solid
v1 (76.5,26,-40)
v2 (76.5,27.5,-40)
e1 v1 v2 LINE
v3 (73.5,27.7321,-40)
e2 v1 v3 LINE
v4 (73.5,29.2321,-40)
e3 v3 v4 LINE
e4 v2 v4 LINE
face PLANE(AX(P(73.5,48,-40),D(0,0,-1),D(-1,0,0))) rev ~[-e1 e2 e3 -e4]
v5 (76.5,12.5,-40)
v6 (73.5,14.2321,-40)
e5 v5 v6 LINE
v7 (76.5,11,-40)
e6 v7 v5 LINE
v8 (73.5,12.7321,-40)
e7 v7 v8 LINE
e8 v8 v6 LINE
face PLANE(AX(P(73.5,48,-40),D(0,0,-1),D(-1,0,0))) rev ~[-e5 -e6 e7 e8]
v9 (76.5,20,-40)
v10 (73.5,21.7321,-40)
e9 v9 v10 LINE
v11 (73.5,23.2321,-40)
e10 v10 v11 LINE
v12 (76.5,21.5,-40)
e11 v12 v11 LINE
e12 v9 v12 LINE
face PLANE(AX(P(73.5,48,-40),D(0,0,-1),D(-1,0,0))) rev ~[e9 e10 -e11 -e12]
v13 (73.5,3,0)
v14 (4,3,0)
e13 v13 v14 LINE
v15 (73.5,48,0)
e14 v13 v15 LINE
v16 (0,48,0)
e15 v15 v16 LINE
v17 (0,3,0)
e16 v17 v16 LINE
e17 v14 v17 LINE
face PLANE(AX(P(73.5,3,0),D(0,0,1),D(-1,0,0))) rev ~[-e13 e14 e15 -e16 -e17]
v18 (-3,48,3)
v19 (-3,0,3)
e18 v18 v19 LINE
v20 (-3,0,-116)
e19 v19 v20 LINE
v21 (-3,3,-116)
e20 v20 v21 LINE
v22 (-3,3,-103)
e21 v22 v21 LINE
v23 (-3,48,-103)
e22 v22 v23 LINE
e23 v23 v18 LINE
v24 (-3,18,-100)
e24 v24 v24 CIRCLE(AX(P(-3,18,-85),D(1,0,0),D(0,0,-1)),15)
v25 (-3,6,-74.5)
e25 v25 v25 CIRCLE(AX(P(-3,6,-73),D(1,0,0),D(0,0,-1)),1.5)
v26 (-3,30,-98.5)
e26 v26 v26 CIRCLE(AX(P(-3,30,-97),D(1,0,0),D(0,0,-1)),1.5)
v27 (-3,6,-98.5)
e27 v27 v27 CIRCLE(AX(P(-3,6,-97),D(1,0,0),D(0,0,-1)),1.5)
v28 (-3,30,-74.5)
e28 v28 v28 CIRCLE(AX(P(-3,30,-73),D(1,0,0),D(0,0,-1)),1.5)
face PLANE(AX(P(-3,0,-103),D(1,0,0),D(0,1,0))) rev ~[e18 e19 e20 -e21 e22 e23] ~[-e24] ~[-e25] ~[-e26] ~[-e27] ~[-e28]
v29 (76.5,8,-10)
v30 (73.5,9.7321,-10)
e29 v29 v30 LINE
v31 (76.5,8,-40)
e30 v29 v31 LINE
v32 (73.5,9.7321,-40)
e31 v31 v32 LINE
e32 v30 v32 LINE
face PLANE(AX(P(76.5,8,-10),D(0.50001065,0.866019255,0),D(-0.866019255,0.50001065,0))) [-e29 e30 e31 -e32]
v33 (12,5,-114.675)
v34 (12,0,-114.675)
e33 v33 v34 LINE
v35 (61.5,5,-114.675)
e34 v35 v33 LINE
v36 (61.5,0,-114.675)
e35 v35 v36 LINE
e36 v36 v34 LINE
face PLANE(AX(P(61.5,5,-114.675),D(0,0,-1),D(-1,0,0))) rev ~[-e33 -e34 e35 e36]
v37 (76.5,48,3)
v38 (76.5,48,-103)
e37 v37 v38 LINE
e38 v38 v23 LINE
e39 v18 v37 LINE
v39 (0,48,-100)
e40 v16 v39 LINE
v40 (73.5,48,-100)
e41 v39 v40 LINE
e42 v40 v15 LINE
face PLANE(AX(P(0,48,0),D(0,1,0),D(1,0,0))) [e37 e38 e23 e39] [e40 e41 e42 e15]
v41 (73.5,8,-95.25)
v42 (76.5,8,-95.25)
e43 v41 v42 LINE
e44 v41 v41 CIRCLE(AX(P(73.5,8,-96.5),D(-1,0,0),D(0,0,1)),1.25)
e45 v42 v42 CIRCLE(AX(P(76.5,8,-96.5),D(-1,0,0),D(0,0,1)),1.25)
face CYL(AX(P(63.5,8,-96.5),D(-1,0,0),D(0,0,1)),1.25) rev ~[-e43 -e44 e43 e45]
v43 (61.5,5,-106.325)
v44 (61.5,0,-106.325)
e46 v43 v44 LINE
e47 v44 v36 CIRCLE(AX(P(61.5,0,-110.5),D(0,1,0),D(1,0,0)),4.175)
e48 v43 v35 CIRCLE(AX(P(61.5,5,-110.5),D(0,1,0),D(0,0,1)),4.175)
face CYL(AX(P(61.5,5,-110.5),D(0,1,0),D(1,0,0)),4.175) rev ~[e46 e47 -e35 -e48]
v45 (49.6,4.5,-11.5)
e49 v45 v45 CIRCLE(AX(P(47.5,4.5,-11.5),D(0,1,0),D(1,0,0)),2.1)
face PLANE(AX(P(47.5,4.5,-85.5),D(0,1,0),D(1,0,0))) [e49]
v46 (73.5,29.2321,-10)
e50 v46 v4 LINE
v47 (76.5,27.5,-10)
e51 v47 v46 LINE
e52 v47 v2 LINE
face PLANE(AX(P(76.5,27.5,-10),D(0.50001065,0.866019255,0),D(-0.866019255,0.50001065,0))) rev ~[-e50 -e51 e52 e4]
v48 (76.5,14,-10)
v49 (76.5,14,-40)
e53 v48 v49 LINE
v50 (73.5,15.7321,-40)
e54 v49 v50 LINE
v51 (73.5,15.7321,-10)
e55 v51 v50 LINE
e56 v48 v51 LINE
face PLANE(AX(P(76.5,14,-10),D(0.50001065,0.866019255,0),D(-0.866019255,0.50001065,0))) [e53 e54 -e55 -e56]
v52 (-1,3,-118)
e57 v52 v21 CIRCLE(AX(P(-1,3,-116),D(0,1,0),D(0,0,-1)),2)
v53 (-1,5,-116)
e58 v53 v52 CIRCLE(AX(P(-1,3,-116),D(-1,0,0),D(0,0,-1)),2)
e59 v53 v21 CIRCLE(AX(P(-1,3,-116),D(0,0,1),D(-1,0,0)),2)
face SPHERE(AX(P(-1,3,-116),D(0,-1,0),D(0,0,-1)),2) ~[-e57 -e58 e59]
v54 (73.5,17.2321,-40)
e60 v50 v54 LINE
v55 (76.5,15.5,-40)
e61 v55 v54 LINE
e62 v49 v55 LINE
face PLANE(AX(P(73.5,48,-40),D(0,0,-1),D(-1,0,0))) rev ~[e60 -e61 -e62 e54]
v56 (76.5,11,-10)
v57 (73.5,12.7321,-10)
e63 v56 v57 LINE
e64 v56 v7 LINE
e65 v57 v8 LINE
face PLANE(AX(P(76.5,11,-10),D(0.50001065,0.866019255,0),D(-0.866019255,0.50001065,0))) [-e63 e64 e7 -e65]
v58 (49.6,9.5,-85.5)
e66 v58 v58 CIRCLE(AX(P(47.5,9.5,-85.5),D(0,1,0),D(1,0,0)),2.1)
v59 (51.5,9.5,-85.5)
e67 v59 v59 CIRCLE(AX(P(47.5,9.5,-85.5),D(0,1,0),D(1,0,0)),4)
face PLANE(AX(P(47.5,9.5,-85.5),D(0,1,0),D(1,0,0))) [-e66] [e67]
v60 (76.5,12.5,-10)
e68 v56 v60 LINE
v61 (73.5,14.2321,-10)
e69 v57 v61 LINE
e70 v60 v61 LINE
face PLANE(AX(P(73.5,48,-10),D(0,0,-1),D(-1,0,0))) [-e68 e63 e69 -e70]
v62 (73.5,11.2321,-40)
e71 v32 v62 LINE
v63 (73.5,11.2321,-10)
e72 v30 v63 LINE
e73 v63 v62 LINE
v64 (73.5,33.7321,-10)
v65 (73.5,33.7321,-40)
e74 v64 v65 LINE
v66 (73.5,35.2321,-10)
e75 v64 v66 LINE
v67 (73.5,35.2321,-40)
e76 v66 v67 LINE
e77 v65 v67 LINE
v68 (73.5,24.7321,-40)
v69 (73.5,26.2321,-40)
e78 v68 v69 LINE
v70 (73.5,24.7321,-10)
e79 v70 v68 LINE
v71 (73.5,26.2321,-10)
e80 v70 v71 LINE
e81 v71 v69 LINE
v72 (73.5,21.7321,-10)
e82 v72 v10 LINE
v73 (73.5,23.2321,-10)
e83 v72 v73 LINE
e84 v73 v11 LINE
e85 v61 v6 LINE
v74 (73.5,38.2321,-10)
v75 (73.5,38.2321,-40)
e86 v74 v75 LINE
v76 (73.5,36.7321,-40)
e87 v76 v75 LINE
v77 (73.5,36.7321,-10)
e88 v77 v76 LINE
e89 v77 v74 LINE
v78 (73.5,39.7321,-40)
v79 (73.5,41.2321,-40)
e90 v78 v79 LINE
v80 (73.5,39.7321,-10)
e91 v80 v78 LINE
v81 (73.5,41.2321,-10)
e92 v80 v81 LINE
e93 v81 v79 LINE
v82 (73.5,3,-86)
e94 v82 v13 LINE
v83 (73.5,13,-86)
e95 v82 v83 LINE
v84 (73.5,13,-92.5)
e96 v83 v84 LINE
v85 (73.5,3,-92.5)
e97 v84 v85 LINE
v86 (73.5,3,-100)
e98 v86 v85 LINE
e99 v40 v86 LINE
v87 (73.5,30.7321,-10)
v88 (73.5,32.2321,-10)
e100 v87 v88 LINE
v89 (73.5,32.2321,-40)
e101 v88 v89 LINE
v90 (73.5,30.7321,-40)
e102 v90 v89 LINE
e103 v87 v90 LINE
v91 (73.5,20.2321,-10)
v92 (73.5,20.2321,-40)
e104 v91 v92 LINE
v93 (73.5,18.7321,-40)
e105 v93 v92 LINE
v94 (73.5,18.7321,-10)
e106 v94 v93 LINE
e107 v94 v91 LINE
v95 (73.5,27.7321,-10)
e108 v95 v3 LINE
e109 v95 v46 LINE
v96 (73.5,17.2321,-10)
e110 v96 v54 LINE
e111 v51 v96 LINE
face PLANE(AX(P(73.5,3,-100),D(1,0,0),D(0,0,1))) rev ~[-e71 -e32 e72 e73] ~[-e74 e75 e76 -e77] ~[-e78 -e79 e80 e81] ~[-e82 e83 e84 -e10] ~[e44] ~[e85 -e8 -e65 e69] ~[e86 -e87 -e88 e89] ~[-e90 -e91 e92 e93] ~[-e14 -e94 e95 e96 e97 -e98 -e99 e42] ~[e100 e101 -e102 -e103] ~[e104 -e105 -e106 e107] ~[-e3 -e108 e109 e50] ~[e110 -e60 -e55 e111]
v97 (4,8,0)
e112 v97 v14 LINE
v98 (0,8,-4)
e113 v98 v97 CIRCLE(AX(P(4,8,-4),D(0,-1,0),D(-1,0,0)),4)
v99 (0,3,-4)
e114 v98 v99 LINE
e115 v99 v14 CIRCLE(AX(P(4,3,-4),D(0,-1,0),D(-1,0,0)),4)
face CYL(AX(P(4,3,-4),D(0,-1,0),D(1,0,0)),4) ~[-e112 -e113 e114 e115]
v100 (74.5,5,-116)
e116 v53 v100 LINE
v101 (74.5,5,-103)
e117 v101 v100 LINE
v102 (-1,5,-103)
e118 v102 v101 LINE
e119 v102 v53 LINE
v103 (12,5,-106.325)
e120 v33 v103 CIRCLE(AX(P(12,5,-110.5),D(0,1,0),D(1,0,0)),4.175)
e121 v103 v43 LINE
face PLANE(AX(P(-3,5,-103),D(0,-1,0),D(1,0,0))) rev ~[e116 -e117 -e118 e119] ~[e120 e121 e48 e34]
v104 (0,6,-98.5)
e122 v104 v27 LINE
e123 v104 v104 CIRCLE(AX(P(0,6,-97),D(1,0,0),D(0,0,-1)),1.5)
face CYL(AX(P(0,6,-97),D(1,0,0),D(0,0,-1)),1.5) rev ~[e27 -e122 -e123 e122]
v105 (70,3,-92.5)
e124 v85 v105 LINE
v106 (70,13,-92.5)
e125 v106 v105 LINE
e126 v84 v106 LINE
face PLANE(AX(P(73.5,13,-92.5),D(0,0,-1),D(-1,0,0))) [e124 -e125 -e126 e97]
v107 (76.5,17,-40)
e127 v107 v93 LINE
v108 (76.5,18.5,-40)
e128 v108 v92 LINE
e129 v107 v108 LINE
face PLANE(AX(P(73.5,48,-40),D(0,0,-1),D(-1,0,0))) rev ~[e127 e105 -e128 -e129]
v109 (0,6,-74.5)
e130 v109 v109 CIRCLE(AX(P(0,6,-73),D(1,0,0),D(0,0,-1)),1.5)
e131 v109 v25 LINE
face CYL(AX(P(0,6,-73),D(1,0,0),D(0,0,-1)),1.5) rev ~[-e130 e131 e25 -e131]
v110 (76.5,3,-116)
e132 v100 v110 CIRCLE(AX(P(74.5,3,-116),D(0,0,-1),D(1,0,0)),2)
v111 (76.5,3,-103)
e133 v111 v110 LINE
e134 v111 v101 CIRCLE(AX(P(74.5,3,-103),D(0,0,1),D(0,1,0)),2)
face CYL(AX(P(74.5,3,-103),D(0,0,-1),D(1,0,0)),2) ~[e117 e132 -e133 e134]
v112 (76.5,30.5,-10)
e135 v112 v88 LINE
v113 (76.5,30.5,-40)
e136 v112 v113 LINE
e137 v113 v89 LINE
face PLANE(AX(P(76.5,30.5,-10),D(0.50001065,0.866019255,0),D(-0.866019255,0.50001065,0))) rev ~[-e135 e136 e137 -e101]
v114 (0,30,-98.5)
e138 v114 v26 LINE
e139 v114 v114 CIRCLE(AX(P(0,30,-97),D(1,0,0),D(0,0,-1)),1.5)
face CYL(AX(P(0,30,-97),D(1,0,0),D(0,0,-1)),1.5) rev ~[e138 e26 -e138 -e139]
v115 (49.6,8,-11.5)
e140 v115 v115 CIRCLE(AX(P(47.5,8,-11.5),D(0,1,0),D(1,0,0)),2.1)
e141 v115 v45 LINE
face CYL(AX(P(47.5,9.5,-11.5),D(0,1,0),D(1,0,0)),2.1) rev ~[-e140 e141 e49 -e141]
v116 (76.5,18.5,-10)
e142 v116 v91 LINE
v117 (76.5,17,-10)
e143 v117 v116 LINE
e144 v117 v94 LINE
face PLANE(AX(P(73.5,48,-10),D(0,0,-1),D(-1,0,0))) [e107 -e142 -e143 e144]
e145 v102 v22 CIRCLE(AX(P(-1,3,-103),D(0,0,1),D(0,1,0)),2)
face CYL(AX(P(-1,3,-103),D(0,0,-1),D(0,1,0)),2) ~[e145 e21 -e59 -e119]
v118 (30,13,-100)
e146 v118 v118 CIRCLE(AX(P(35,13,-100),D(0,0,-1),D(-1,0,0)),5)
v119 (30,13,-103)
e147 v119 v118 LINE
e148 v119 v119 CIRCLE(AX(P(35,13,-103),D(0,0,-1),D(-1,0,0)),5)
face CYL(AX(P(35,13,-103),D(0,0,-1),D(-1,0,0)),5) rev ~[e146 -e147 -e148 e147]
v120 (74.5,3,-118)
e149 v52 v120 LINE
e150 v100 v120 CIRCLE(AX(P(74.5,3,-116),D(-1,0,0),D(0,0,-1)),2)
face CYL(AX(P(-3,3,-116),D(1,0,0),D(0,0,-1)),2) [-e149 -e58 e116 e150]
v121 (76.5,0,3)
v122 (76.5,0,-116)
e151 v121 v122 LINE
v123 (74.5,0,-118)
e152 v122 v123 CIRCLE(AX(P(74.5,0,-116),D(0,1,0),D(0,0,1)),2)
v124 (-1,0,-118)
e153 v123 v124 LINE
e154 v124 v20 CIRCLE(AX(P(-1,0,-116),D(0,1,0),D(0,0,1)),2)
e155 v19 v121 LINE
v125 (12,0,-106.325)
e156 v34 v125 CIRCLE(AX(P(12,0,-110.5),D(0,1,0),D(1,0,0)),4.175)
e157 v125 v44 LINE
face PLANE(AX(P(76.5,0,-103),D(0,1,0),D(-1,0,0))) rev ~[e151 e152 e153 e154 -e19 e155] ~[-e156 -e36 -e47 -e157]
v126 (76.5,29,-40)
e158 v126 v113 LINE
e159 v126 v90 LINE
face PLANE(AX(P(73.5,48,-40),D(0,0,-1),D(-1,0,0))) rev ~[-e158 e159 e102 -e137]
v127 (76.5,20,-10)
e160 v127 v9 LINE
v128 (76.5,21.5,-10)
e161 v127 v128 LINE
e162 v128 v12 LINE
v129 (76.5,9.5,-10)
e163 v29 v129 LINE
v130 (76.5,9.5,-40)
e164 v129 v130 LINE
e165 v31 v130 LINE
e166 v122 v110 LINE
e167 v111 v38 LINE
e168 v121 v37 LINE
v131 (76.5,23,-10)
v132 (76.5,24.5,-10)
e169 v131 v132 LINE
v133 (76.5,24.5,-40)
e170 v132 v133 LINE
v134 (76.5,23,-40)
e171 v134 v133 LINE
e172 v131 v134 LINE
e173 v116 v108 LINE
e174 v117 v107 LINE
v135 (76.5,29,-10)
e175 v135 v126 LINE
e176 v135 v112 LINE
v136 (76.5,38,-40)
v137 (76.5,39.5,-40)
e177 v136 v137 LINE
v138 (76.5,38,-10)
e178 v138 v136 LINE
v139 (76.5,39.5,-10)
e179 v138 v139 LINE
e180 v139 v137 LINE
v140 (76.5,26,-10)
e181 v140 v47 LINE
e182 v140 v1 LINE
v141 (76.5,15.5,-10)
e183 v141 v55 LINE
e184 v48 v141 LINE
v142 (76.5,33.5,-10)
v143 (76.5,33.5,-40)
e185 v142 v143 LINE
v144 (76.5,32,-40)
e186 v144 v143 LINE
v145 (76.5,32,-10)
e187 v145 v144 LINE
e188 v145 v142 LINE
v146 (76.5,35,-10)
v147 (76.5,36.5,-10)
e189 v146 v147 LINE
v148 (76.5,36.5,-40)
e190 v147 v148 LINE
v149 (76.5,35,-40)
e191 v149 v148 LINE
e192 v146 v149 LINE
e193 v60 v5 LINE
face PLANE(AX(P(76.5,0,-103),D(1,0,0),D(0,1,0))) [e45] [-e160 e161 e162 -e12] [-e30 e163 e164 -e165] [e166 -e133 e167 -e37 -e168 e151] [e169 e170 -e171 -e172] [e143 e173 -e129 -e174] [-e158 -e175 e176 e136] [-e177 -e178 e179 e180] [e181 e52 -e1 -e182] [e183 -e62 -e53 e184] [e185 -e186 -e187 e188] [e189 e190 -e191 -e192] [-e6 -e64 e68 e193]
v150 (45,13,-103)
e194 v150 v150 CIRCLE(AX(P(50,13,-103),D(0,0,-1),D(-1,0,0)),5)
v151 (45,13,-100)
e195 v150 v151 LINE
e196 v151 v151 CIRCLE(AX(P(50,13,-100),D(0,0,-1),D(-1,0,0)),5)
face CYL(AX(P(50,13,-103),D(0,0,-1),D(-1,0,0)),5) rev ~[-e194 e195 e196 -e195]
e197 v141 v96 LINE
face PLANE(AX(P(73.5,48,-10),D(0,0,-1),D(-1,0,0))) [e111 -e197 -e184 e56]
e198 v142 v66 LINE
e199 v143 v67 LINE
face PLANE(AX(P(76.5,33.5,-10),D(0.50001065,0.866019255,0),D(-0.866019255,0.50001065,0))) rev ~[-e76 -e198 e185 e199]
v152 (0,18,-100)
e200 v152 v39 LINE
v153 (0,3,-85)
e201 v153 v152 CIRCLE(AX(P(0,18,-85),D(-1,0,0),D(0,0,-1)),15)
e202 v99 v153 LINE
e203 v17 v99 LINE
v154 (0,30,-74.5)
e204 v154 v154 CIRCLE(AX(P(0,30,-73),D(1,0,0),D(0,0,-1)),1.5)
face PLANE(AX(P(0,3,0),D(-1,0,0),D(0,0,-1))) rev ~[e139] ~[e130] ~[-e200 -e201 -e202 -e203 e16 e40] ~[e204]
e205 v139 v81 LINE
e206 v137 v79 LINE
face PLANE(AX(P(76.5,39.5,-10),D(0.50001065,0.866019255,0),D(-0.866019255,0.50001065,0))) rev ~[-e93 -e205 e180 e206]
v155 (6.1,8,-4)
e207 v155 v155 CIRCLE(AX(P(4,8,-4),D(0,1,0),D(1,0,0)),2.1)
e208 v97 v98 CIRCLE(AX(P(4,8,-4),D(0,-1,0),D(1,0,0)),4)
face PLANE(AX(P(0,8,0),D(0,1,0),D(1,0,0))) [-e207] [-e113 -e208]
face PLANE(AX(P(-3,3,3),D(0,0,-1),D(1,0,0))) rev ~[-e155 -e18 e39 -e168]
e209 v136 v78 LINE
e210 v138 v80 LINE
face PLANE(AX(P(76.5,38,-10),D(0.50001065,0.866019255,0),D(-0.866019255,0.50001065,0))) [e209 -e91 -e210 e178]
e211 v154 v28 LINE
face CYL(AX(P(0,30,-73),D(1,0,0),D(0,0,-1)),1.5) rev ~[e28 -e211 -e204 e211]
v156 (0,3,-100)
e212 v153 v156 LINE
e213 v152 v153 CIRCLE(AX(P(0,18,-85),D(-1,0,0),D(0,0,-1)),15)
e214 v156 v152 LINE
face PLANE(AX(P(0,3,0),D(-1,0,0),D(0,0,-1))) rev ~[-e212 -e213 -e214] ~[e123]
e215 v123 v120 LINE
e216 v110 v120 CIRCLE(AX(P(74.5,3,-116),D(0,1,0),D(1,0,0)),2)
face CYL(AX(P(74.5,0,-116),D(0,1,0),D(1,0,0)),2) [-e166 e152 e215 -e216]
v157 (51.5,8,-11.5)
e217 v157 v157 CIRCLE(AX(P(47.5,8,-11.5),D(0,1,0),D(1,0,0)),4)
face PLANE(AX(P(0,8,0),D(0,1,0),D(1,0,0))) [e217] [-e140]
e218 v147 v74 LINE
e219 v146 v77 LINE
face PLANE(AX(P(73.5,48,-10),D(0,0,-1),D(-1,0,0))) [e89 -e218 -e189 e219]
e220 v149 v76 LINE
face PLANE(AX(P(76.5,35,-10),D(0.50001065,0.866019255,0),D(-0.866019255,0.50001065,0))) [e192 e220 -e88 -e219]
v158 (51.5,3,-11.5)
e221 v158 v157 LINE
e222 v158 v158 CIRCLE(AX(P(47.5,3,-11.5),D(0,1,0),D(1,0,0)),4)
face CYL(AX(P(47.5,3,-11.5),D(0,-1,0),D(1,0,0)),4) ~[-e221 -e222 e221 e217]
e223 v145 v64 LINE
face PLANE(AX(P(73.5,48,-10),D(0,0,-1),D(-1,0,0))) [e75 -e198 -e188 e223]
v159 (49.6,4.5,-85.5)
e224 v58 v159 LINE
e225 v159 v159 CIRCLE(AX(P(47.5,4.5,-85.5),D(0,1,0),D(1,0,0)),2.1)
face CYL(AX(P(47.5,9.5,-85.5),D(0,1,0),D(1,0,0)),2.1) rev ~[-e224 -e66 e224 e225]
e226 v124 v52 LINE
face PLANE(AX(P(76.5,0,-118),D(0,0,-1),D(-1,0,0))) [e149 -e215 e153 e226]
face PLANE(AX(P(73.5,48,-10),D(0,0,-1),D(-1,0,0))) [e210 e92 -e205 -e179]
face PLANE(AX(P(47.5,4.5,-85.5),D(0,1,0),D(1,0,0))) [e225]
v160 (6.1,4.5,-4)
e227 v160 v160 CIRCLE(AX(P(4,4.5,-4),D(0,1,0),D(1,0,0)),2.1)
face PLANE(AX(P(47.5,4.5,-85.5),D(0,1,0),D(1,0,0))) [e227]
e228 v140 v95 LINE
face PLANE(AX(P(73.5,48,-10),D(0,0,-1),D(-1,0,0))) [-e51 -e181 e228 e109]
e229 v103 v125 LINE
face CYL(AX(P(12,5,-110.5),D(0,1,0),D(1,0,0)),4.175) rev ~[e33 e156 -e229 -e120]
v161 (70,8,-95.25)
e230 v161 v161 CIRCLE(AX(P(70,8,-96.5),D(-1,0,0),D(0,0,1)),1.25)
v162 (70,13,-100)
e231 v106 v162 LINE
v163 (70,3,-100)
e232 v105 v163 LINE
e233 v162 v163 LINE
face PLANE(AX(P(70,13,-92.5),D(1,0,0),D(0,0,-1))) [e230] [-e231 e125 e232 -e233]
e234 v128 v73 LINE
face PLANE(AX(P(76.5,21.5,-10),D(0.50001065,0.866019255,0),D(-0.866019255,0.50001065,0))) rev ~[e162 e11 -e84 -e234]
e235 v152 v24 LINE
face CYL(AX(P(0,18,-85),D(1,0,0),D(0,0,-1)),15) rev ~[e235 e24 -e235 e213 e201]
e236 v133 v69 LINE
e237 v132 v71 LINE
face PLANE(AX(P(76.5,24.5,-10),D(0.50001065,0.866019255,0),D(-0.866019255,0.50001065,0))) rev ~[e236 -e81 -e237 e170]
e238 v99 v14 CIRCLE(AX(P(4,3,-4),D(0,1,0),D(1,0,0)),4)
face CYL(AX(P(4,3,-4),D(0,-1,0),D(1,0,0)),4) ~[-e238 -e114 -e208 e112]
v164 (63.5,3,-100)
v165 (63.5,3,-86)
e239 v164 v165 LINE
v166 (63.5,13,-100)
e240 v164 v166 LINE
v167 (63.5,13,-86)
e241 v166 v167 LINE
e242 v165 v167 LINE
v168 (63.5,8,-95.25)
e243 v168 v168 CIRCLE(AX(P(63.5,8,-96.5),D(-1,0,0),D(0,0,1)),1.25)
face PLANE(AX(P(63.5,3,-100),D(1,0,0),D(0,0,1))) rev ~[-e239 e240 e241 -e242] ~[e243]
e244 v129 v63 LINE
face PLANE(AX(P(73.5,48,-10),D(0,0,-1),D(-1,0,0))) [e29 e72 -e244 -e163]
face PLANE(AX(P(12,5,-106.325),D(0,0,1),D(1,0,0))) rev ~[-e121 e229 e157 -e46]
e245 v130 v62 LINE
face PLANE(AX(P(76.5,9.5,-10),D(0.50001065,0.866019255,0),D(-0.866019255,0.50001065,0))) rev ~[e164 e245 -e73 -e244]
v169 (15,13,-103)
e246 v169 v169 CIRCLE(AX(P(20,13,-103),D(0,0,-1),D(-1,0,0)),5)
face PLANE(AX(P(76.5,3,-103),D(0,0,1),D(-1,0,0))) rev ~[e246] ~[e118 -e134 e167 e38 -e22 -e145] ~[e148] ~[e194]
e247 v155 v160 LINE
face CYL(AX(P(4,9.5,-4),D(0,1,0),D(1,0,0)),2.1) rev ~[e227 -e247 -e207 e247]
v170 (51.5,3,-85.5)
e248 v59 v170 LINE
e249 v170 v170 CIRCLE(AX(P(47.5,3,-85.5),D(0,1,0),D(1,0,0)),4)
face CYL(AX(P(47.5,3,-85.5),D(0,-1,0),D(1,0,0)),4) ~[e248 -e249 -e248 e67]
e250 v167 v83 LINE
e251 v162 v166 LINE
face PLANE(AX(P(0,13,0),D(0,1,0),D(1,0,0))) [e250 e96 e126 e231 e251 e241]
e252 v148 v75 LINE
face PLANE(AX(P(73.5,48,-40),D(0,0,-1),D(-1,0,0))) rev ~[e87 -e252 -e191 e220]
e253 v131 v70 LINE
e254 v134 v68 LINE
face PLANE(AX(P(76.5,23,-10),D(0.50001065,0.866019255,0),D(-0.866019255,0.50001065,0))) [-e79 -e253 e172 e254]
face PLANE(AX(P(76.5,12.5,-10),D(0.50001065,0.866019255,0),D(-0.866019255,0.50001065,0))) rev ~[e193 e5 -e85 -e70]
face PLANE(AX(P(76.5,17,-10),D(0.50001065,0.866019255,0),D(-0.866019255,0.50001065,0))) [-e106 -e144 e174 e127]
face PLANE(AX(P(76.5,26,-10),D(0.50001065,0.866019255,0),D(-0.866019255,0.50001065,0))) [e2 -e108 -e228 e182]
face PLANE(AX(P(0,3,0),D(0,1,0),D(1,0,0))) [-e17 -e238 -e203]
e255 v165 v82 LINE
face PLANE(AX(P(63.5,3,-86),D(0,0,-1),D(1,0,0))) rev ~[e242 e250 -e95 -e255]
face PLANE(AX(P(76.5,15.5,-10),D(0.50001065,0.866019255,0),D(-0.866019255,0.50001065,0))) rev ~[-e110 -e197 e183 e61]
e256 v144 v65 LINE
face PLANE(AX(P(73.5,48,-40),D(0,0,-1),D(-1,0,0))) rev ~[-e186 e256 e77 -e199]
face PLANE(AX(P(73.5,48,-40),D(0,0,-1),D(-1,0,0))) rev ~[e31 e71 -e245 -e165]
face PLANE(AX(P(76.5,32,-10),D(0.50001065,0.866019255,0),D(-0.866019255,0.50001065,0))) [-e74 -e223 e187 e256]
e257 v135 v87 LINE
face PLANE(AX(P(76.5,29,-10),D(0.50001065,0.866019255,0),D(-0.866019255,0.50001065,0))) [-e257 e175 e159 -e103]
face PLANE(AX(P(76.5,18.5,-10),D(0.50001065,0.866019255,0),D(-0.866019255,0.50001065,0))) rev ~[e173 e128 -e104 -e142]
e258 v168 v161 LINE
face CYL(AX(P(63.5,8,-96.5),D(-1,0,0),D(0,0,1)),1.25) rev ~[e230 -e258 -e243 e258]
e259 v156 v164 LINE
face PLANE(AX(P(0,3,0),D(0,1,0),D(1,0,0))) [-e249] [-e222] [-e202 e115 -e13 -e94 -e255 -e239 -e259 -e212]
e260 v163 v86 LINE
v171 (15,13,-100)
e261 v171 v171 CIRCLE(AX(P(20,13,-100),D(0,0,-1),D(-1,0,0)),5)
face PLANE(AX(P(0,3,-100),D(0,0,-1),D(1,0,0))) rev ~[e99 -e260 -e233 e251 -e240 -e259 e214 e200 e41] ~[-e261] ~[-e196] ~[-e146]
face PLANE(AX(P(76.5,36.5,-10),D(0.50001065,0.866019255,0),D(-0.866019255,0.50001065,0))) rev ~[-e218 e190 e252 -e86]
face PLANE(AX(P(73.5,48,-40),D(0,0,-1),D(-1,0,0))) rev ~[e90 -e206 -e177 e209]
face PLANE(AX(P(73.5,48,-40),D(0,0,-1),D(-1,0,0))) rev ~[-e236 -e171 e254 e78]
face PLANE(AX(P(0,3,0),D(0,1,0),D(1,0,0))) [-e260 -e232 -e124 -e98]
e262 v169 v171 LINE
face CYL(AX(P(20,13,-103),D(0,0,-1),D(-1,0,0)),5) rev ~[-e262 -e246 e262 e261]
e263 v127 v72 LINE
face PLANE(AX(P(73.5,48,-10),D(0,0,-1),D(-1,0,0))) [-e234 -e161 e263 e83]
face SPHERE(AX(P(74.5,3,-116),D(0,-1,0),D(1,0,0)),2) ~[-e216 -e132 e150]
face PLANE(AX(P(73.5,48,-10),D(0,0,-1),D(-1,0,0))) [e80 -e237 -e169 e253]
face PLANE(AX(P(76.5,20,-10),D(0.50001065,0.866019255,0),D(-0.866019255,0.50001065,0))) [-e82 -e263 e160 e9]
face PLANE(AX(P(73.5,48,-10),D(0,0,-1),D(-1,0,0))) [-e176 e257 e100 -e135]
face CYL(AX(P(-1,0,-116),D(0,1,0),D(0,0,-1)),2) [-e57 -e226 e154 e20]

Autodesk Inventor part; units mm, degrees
ref_plane "YZ Plane" through (0, 0, 0) normal (1, 0, 0) x (0, 1, 0)
ref_plane "XZ Plane" through (0, 0, 0) normal (0, 1, 0) x (-1, 0, 0)
ref_plane "XY Plane" through (0, 0, 0) normal (0, 0, 1) x (1, 0, 0)
sketch "Sketch1" plane through (0, 0, 0) normal (0, 1, 0) x (-1, 0, 0)
  line L0 (0, 0) -> (-51.5, 0)
  line L1 (-51.5, 0) -> (-51.5, -100)
  line L2 (-51.5, -100) -> (0, -100)
  line L3 (0, -100) -> (0, 0)
  circle A0 centre (-4, -4) radius 1.625
  circle A1 centre (-47.5, -11.5) radius 1.625
  dimension "d0" = 51.5
  dimension "d1" = 100
  dimension "d2" = 3.25
  dimension "d3" = 3.25
  dimension "d4" = 4
  dimension "d5" = 4
  dimension "d6" = 4
  dimension "d7" = 11.5
extrude "Extrusion1" add sketch "Sketch1" against normal blind 1
sketch "Sketch2" plane through (0, 0, 0) normal (0, 1, 0) x (1, 0, 0)
  line L0 (21.5, 4) -> (73.5, 4)
  line L1 (73.5, 4) -> (73.5, 93)
  line L2 (73.5, 93) -> (21.5, 93)
  line L3 (21.5, 93) -> (21.5, 4)
  circle A0 centre (47.5, 11.5) radius 1.625
  circle A1 centre (29.75, 12.25) radius 1.125
  line L4 (51.5, 0) -> (51.5, 100) projected
  line L5 (51.5, 100) -> (0, 100) projected
  line L6 (0, 100) -> (0, 0) projected
  line L7 (0, 0) -> (51.5, 0) projected
  circle A2 centre (4, 4) radius 1.625 projected
  circle A3 centre (47.5, 11.5) radius 1.625 projected
  point P0 (47.5, 4)
  dimension "d10" = 3.25
  dimension "d11" = 52
  dimension "d12" = 89
  dimension "d13" = 2.25
  dimension "d14" = 8.25
  dimension "d15" = 8.25
  dimension "d16" = 0
  dimension "d17" = 7.5
  dimension "d18" = 0
  dimension "d19" = 0
extrude "Extrusion2" add sketch "Sketch2" against normal blind 1 contours L3 L2 L4 L0 | L4 L2 L1 L0
sketch "Sketch3" plane through (0, 0, 0) normal (0, 1, 0) x (1, 0, 0)
  line L0 (51.5, 4) -> (73.5, 4) projected
  line L1 (73.5, 4) -> (73.5, 93) projected
  line L2 (73.5, 93) -> (51.5, 93) projected
  line L3 (51.5, 100) -> (0, 100) projected
  line L4 (0, 100) -> (0, 0) projected
  line L5 (0, 0) -> (51.5, 0) projected
  line L6 (51.5, 0) -> (51.5, 4) projected
  circle A0 centre (4, 4) radius 1.625 projected
  circle A1 centre (47.5, 11.5) radius 1.625 projected
  line L7 (-3, -3) -> (76.5, -3)
  line L8 (76.5, -3) -> (76.5, 103)
  line L9 (76.5, 103) -> (-3, 103)
  line L10 (-3, 103) -> (-3, -3)
  line L11 (51.5, 93) -> (51.5, 100) projected
  dimension "d22" = 3
  dimension "d23" = 3
  dimension "d24" = 3
  dimension "d48" = 3
extrude "Extrusion3" add sketch "Sketch3" along normal blind 3 contours L6 L5 L4 L3 L11 L2 L1 L0 | A0 | A1 | L10 L9 L8 L7
sketch "Sketch4" plane through (0, 3, 0) normal (0, 1, 0) x (1, 0, 0)
  line L0 (76.5, -3) -> (76.5, 103) projected
  line L1 (76.5, 103) -> (-3, 103) projected
  line L2 (-3, 103) -> (-3, -3) projected
  line L3 (-3, -3) -> (76.5, -3) projected
  line L4 (-3, 103) -> (76.5, 103)
  line L5 (76.5, 103) -> (76.5, -3)
  line L6 (76.5, -3) -> (-3, -3)
  line L7 (-3, -3) -> (-3, 103)
  line L8 (0, 100) -> (73.5, 100)
  line L9 (73.5, 100) -> (73.5, 0)
  line L10 (73.5, 0) -> (0, 0)
  line L11 (0, 0) -> (0, 100)
  point P0 (0, 0)
  dimension "d28" = 3
  dimension "d29" = 3
  dimension "d30" = 3
  dimension "d31" = 3
extrude "Extrusion4" add sketch "Sketch4" along normal blind 45
sketch "Sketch5" plane through (0, 3, 0) normal (0, 1, 0) x (1, 0, 0)
  circle A0 centre (47.5, 11.5) radius 4
  line L0 (73.5, 0) -> (0, 0) projected
  line L1 (0, 0) -> (0, 100) projected
  circle A1 centre (47.5, 85.5) radius 4
  line L2 (0, 100) -> (73.5, 100) projected
  circle A2 centre (4, 4) radius 1.625 projected
  circle A3 centre (4, 4) radius 4
  dimension "d34" = 8
  dimension "d36" = 11.5
  dimension "d37" = 47.5
  dimension "d39" = 8
  dimension "d42" = 74
  dimension "d45" = 8
extrude "Extrusion5" add sketch "Sketch5" along normal blind 5 contours A0 | A3 | A1 | A2
sketch "Sketch6" plane through (47.5, 8, -85.5) normal (0, 1, 0) x (1, 0, 0)
  circle A0 centre (0, 0) radius 4 projected
  circle A1 centre (0, 0) radius 3
  point P0 (-47.5, -85.5)
extrude "Extrusion6" add sketch "Sketch6" along normal blind 1.5 contours A0 | A1
sketch "Sketch7" plane through (0, 3, 0) normal (1, 0, 0) x (0, 0, -1)
  line L0 (100, 0) -> (4, 0) projected
  line L1 (100, 0) -> (100, 45) projected
  line L2 (0, 45) -> (100, 45) projected
  line L3 (0, 0) -> (0, 45) projected
  line L4 (100, 0) -> (70, 0)
  line L5 (70, 0) -> (70, 30)
  line L6 (70, 30) -> (100, 30)
  line L7 (100, 30) -> (100, 0)
  circle A0 centre (85, 15) radius 15
  circle A1 centre (73, 27) radius 1.5
  circle A2 centre (97, 27) radius 1.5
  circle A3 centre (73, 3) radius 1.5
  circle A4 centre (97, 3) radius 1.5
  line L8 (4, 0) -> (0, 0) projected
  line L9 (4, 0) -> (4, 5) projected
  point P0 (0, -3)
  point P1 (70, 15)
  point P2 (85, 30)
  point P3 (70, 15)
  point P4 (70, 0)
  point P5 (85, 0)
  point P6 (75.081, 3.7477)
  point P7 (74.196, 4.5945)
  dimension "d49" = 30
  dimension "d50" = 30
  dimension "d51" = 0
  dimension "d52" = 0
  dimension "d53" = 30
  dimension "d54" = 24
  dimension "d55" = 3
  dimension "d56" = 12
  dimension "d57" = 3
  dimension "d58" = 24
  dimension "d59" = 24
  dimension "d60" = 24
  dimension "d61" = 3
  dimension "d62" = 3
  dimension "d65" = 0
  dimension "d90" = 12
  dimension "d91" = 0
extrude "Extrusion7" cut sketch "Sketch7" against normal blind 30 contours A0 | A1 | A2 | A3 | A4
sketch "Sketch8" plane through (0, 48, 0) normal (0, 1, 0) x (1, 0, 0)
  line L0 (0, 100) -> (73.5, 100) projected
  line L1 (73.5, 100) -> (73.5, 0) projected
  line L2 (73.5, 0) -> (0, 0) projected
  line L3 (0, 0) -> (0, 100) projected
  line L4 (-3, 103) -> (-3, -3) projected
  line L5 (-3, -3) -> (76.5, -3) projected
  line L6 (76.5, -3) -> (76.5, 103) projected
  line L7 (76.5, 103) -> (-3, 103) projected
  line L8 (76.5, -3) -> (76.5, 103) projected
  line L9 (-3, -3) -> (76.5, -3)
  line L10 (76.5, -3) -> (76.5, 103)
  line L11 (76.5, 103) -> (-3, 103)
  line L12 (-3, 103) -> (-3, -3)
  line L13 (73.5, 0) -> (73.5, 100) projected
  line L14 (0, 0) -> (73.5, 0)
  line L15 (73.5, 0) -> (73.5, 100)
  line L16 (73.5, 100) -> (0, 100)
  line L17 (0, 100) -> (0, 0)
  point P0 (0, 0)
extrude "Extrusion8" [suppressed]
sketch "Sketch9" plane through (0, 51, 0) normal (0, 1, 0) x (1, 0, 0)
  line L0 (-3, -3) -> (76.5, -3) projected
  line L1 (76.5, -3) -> (76.5, 103) projected
  line L2 (76.5, 103) -> (-3, 103) projected
  line L3 (-3, 103) -> (-3, -3) projected
  line L4 (0, 100) -> (10, 100)
  line L5 (10, 100) -> (10, 90)
  line L6 (10, 90) -> (0, 90)
  line L7 (0, 90) -> (0, 100)
  line L8 (73.5, 100) -> (63.5, 100)
  line L9 (63.5, 100) -> (63.5, 90)
  line L10 (63.5, 90) -> (73.5, 90)
  line L11 (73.5, 90) -> (73.5, 100)
  line L12 (0, 0) -> (10, 0)
  line L13 (10, 0) -> (10, 10)
  line L14 (10, 10) -> (0, 10)
  line L15 (0, 10) -> (0, 0)
  line L16 (73.5, 0) -> (63.5, 0)
  line L17 (63.5, 0) -> (63.5, 10)
  line L18 (63.5, 10) -> (73.5, 10)
  line L19 (73.5, 10) -> (73.5, 0)
  point P0 (0, 0)
  dimension "d68" = 10
  dimension "d69" = 10
  dimension "d70" = 10
  dimension "d71" = 10
  dimension "d72" = 10
  dimension "d73" = 10
  dimension "d74" = 10
  dimension "d75" = 10
extrude "Extrusion10" [suppressed]
sketch "Sketch11" plane through (0, 3, 0) normal (0, 1, 0) x (1, 0, 0)
  circle A0 centre (47.5, 85.5) radius 4 projected
  circle A1 centre (47.5, 11.5) radius 4 projected
  arc A2 (4, 0) -> (0, 4) centre (4, 4) ccw projected
  line L0 (0, 100) -> (0, 85) projected
  line L1 (0, 85) -> (0, 4) projected
  line L2 (0, 0) -> (4, 0) projected
  line L3 (73.5, 0) -> (73.5, 100) projected
  line L4 (73.5, 100) -> (0, 100) projected
  line L5 (73.5, 100) -> (63.5, 100)
  line L6 (63.5, 100) -> (63.5, 86)
  line L7 (63.5, 86) -> (73.5, 86)
  line L8 (73.5, 86) -> (73.5, 100)
  line L9 (53.5, 100) -> (63.5, 100)
  line L10 (63.5, 100) -> (63.5, 86)
  line L11 (63.5, 86) -> (73.5, 86)
  line L12 (73.5, 86) -> (73.5, 80)
  line L13 (4, 0) -> (73.5, 0) projected
  arc A3 (0, 4) -> (4, 0) centre (4, 4) ccw projected
  line L14 (0, 4) -> (0, 0) projected
  point P0 (0, 0)
  dimension "d95" = 10
  dimension "d100" = 14
extrude "Extrusion11" add sketch "Sketch11" along normal blind 10 contours L7 L6 L4 L3
sketch "Sketch12" plane through (63.5, 3, -100) normal (-1, 0, 0) x (0, 0, 1)
  line L0 (14, 0) -> (0, 0) projected
  line L1 (14, 0) -> (14, 10) projected
  line L2 (0, 10) -> (14, 10) projected
  line L3 (0, 0) -> (0, 10) projected
  circle A0 centre (3.5, 5) radius 1.25
  line L4 (0, 10) -> (14, 10) projected
  point P0 (100, -3)
  point P1 (7, 10)
  point P2 (7, 10)
  dimension "d101" = 2.5
  dimension "d104" = 5
  dimension "d112" = 3.5
extrude "Extrusion12" cut sketch "Sketch12" against normal through all contours A0
sketch "Sketch13" plane through (0, 13, 0) normal (0, 1, 0) x (1, 0, 0)
  line L0 (73.5, 100) -> (73.5, 86) projected
  line L1 (63.5, 100) -> (73.5, 100) projected
  line L2 (63.5, 100) -> (63.5, 86) projected
  line L3 (63.5, 86) -> (73.5, 86) projected
  line L4 (70, 100) -> (73.5, 100)
  line L5 (73.5, 100) -> (73.5, 92.5)
  line L6 (73.5, 92.5) -> (70, 92.5)
  line L7 (70, 92.5) -> (70, 100)
  point P0 (0, 0)
  dimension "d108" = 3.5
  dimension "d113" = 7.5
extrude "Extrusion13" cut sketch "Sketch13" against normal blind 10 contours L0 L6 L7 L1
sketch "Sketch14" plane through (76.5, 0, -103) normal (0, 0, -1) x (-1, 0, 0)
  line L0 (13, 3) -> (13, 13) projected
  line L1 (13, 13) -> (6.5, 13) projected
  line L2 (3, 3) -> (3, 48) projected
  line L3 (76.5, 18) -> (76.5, 48) projected
  line L4 (76.5, 3) -> (76.5, 18) projected
  line L5 (13, 3) -> (76.5, 3) projected
  circle A0 centre (26.5, 13) radius 5
  circle A1 centre (41.5, 13) radius 5
  circle A2 centre (56.5, 13) radius 5
  line L6 (76.5, 48) -> (3, 48) projected
  line L7 (6.5, 13) -> (6.5, 3) projected
  line L8 (6.5, 3) -> (3, 3) projected
  point P0 (76.5, 0)
  dimension "d114" = 10
  dimension "d124" = 15
  dimension "d129" = 10
  dimension "d131" = 20
extrude "Extrusion14" cut sketch "Sketch14" against normal blind 10 contours A0 | A1 | A2
sketch "Sketch15" plane through (47.5, 9.5, -85.5) normal (0, 1, 0) x (1, 0, 0)
  circle A0 centre (0, 0) radius 4 projected
  circle A1 centre (-43.5, -81.5) radius 1.625 projected
  circle A2 centre (0, -74) radius 4 projected
  circle A3 centre (0, 0) radius 2.1
  circle A4 centre (-43.5, -81.5) radius 2.1
  circle A5 centre (0, -74) radius 1.625 projected
  circle A6 centre (0, -74) radius 2.1
  point P0 (-47.5, -85.5)
  dimension "d134" = 4.2
  dimension "d135" = 4.2
  dimension "d136" = 4.2
extrude "Extrusion15" cut sketch "Sketch15" against normal blind 5 contours A1 | A3 | A4 | A5 | A6
sketch "Sketch16" plane through (76.5, 0, -103) normal (0, 0, -1) x (-1, 0, 0)
  line L0 (0, 0) -> (79.5, 0) projected
  line L1 (79.5, 0) -> (79.5, 48) projected
  line L2 (0, 0) -> (0, 48) projected
  line L3 (0, 0) -> (79.5, 0)
  line L4 (79.5, 0) -> (79.5, 5)
  line L5 (79.5, 5) -> (0, 5)
  line L6 (0, 5) -> (0, 0)
  line L7 (0, 48) -> (79.5, 48) projected
  point P0 (76.5, 0)
  point P1 (0, 5)
  dimension "d139" = 5
extrude "Extrusion16" add sketch "Sketch16" along normal blind 15 contours L2 L5 L1 L0
sketch "Sketch17" plane through (-3, 5, -103) normal (0, 1, 0) x (1, 0, 0)
  line L0 (79.5, 0) -> (0, 0) projected
  line L1 (79.5, 0) -> (79.5, 15) projected
  line L2 (0, 15) -> (79.5, 15) projected
  line L3 (0, 0) -> (0, 15) projected
  circle A0 centre (15, 7.5) radius 4.175
  circle A1 centre (64.5, 7.5) radius 4.175
  line L4 (15, 3.325) -> (64.5, 3.325)
  line L5 (64.5, 3.325) -> (64.5, 11.675)
  line L6 (64.5, 11.675) -> (15, 11.675)
  line L7 (15, 11.675) -> (15, 3.325)
  point P0 (3, -103)
  point P1 (15, 7.5)
  point P2 (64.5, 3.325)
  point P3 (15, 11.675)
  dimension "d142" = 8.35
  dimension "d143" = 8.35
  dimension "d144" = 15
  dimension "d145" = 15
  dimension "d146" = 0
extrude "Extrusion17" cut sketch "Sketch17" against normal blind 15 contours A0 L7 | A0 L6 A1 L4 | L7 A0 | L5 A1 | A1 L5
fillet "Fillet1" radius 2 5 edges at (76.5, 2.5, -118) (-3, 2.5, -118) (76.5, 5, -110.5) (36.75, 5, -118) (-3, 5, -110.5)
sketch "Sketch18" plane through (0, 0, 0) normal (0, -1, 0) x (1, 0, 0)
  line L0 (-42.8807, 22.4095) -> (141.815, 22.4095)
  line L1 (141.815, 22.4095) -> (141.815, -149.6316)
  line L2 (141.815, -149.6316) -> (-42.8807, -149.6316)
  line L3 (-42.8807, -149.6316) -> (-42.8807, 22.4095)
  point P0 (0, 0)
extrude "Extrusion18" cut sketch "Sketch18" along normal blind 10
ref_plane "Work Plane2" through (73.5, 48, -10) normal (0, 0, -1) x (-1, 0, 0)
sketch "Sketch19" plane through (73.5, 48, -10) normal (0, 0, -1) x (-1, 0, 0)
  line L0 (73.5, -45) -> (69.5, -45) projected
  line L1 (73.5, -45) -> (73.5, 0) projected
  line L2 (0, 0) -> (73.5, 0) projected
  line L3 (0, -45) -> (0, 0) projected
  line L4 (69.5, -45) -> (0, -45) projected
  line L5 (69.5, -45) -> (69.5, -40) projected
  line L6 (-1, -43) -> (74.5, -43) projected
  arc A0 (76.5, -45) -> (74.5, -43) centre (74.5, -45) ccw projected
  line L7 (76.5, -45) -> (76.5, 0) projected
  line L8 (-3, 0) -> (76.5, 0) projected
  line L9 (-3, -45) -> (-3, 0) projected
  arc A1 (-1, -43) -> (-3, -45) centre (-1, -45) ccw projected
  circle A2 centre (53.5, -35) radius 5 projected
  circle A3 centre (38.5, -35) radius 5 projected
  circle A4 centre (23.5, -35) radius 5 projected
  line L10 (0, -45) -> (-3, -45)
  line L11 (-3, -45) -> (-3, -40)
  line L12 (-3, -40) -> (0, -40)
  line L13 (0, -40) -> (0, -45)
  line L14 (-3, -40) -> (0, -38.2679)
  line L15 (-3, -38.5) -> (0, -36.7679)
  line L16 (-3, -37) -> (0, -35.2679)
  line L17 (-3, -35.5) -> (0, -33.7679)
  line L18 (-3, -34) -> (0, -32.2679)
  line L19 (-3, -32.5) -> (0, -30.7679)
  line L20 (-3, -31) -> (0, -29.2679)
  line L21 (-3, -29.5) -> (0, -27.7679)
  line L22 (-3, -28) -> (0, -26.2679)
  line L23 (-3, -26.5) -> (0, -24.7679)
  line L24 (-3, -25) -> (0, -23.2679)
  line L25 (-3, -23.5) -> (0, -21.7679)
  line L26 (-3, -22) -> (0, -20.2679)
  line L27 (-3, -20.5) -> (0, -18.7679)
  line L28 (-3, -19) -> (0, -17.2679)
  line L29 (-3, -17.5) -> (0, -15.7679)
  line L30 (-3, -16) -> (0, -14.2679)
  line L31 (-3, -14.5) -> (0, -12.7679)
  line L32 (-3, -13) -> (0, -11.2679)
  line L33 (-3, -11.5) -> (0, -9.7679)
  line L34 (-3, -10) -> (0, -8.2679)
  line L35 (-3, -8.5) -> (0, -6.7679)
  line L36 (-3, -7) -> (0, -5.2679)
  line L37 (-3, -5.5) -> (0, -3.7679)
  line L38 (-3, -4) -> (0, -2.2679)
  line L39 (-3, -2.5) -> (0, -0.7679)
  line L40 (-3, -40) -> (0, -40)
  line L41 (0, -40) -> (0, 0)
  line L42 (0, 0) -> (-3, 0)
  line L43 (-3, 0) -> (-3, -40)
  point P0 (73.5, -48)
  point P1 (-1.5, -45)
  point P2 (-1.5, -40)
  point P3 (0, -6.7679)
  point P4 (-3, -8.5)
  point P5 (-3, -10)
  point P6 (0, -8.2679)
  point P7 (0, -9.7679)
  point P8 (-3, -11.5)
  point P9 (-3, -13)
  point P10 (0, -11.2679)
  point P11 (0, -12.7679)
  point P12 (-3, -14.5)
  point P13 (-3, -16)
  point P14 (0, -14.2679)
  point P15 (0, -15.7679)
  point P16 (-3, -17.5)
  point P17 (-3, -19)
  point P18 (0, -17.2679)
  point P19 (0, -18.7679)
  point P20 (-3, -20.5)
  point P21 (-3, -22)
  point P22 (0, -20.2679)
  point P23 (0, -21.7679)
  point P24 (-3, -23.5)
  point P25 (-3, -25)
  point P26 (0, -23.2679)
  point P27 (0, -24.7679)
  point P28 (-3, -26.5)
  point P29 (-3, -28)
  point P30 (0, -26.2679)
  point P31 (0, -27.7679)
  point P32 (-3, -29.5)
  point P33 (-3, -31)
  point P34 (0, -29.2679)
  point P35 (0, -30.7679)
  point P36 (-3, -32.5)
  point P37 (-3, -34)
  point P38 (0, -32.2679)
  point P39 (0, -33.7679)
  point P40 (-3, -35.5)
  point P41 (-3, -37)
  point P42 (0, -35.2679)
  dimension "d153" = 5
  dimension "d154" = 30
  dimension "d155" = 1.5
  dimension "d156" = 1.5
  dimension "d159" = 3
extrude "Extrusion19" cut sketch "Sketch19" along normal blind 30 contours L9 L15 L3 L14 | L9 L17 L3 L16 | L9 L19 L3 L18 | L3 L34 L9 L35 | L9 L21 L3 L20 | L3 L32 L9 L33 | L9 L23 L3 L22 | L3 L30 L9 L31 | L9 L25 L3 L24 | L3 L28 L9 L29 | L9 L27 L3 L26
equation "\"d2\" = d3"
equation "\"d6\" = d5"
equation "\"d34\" = d45"
equation "\"d39\" = d45"
equation "\"d56\" = 0.5 * d54"
equation "\"d57\" = d55"
equation "\"d58\" = d54"
equation "\"d59\" = d54"
equation "\"d60\" = d54"
equation "\"d61\" = d55"
equation "\"d62\" = d55"
equation "\"d90\" = 0.5 * d58"
equation "\"d70\" = d69"
equation "\"d71\" = d68"
equation "\"d72\" = d68"
equation "\"d73\" = d69"
equation "\"d74\" = d70"
equation "\"d75\" = d71"
equation "\"d143\" = d142"
properties part number "Controller Enclosure"
